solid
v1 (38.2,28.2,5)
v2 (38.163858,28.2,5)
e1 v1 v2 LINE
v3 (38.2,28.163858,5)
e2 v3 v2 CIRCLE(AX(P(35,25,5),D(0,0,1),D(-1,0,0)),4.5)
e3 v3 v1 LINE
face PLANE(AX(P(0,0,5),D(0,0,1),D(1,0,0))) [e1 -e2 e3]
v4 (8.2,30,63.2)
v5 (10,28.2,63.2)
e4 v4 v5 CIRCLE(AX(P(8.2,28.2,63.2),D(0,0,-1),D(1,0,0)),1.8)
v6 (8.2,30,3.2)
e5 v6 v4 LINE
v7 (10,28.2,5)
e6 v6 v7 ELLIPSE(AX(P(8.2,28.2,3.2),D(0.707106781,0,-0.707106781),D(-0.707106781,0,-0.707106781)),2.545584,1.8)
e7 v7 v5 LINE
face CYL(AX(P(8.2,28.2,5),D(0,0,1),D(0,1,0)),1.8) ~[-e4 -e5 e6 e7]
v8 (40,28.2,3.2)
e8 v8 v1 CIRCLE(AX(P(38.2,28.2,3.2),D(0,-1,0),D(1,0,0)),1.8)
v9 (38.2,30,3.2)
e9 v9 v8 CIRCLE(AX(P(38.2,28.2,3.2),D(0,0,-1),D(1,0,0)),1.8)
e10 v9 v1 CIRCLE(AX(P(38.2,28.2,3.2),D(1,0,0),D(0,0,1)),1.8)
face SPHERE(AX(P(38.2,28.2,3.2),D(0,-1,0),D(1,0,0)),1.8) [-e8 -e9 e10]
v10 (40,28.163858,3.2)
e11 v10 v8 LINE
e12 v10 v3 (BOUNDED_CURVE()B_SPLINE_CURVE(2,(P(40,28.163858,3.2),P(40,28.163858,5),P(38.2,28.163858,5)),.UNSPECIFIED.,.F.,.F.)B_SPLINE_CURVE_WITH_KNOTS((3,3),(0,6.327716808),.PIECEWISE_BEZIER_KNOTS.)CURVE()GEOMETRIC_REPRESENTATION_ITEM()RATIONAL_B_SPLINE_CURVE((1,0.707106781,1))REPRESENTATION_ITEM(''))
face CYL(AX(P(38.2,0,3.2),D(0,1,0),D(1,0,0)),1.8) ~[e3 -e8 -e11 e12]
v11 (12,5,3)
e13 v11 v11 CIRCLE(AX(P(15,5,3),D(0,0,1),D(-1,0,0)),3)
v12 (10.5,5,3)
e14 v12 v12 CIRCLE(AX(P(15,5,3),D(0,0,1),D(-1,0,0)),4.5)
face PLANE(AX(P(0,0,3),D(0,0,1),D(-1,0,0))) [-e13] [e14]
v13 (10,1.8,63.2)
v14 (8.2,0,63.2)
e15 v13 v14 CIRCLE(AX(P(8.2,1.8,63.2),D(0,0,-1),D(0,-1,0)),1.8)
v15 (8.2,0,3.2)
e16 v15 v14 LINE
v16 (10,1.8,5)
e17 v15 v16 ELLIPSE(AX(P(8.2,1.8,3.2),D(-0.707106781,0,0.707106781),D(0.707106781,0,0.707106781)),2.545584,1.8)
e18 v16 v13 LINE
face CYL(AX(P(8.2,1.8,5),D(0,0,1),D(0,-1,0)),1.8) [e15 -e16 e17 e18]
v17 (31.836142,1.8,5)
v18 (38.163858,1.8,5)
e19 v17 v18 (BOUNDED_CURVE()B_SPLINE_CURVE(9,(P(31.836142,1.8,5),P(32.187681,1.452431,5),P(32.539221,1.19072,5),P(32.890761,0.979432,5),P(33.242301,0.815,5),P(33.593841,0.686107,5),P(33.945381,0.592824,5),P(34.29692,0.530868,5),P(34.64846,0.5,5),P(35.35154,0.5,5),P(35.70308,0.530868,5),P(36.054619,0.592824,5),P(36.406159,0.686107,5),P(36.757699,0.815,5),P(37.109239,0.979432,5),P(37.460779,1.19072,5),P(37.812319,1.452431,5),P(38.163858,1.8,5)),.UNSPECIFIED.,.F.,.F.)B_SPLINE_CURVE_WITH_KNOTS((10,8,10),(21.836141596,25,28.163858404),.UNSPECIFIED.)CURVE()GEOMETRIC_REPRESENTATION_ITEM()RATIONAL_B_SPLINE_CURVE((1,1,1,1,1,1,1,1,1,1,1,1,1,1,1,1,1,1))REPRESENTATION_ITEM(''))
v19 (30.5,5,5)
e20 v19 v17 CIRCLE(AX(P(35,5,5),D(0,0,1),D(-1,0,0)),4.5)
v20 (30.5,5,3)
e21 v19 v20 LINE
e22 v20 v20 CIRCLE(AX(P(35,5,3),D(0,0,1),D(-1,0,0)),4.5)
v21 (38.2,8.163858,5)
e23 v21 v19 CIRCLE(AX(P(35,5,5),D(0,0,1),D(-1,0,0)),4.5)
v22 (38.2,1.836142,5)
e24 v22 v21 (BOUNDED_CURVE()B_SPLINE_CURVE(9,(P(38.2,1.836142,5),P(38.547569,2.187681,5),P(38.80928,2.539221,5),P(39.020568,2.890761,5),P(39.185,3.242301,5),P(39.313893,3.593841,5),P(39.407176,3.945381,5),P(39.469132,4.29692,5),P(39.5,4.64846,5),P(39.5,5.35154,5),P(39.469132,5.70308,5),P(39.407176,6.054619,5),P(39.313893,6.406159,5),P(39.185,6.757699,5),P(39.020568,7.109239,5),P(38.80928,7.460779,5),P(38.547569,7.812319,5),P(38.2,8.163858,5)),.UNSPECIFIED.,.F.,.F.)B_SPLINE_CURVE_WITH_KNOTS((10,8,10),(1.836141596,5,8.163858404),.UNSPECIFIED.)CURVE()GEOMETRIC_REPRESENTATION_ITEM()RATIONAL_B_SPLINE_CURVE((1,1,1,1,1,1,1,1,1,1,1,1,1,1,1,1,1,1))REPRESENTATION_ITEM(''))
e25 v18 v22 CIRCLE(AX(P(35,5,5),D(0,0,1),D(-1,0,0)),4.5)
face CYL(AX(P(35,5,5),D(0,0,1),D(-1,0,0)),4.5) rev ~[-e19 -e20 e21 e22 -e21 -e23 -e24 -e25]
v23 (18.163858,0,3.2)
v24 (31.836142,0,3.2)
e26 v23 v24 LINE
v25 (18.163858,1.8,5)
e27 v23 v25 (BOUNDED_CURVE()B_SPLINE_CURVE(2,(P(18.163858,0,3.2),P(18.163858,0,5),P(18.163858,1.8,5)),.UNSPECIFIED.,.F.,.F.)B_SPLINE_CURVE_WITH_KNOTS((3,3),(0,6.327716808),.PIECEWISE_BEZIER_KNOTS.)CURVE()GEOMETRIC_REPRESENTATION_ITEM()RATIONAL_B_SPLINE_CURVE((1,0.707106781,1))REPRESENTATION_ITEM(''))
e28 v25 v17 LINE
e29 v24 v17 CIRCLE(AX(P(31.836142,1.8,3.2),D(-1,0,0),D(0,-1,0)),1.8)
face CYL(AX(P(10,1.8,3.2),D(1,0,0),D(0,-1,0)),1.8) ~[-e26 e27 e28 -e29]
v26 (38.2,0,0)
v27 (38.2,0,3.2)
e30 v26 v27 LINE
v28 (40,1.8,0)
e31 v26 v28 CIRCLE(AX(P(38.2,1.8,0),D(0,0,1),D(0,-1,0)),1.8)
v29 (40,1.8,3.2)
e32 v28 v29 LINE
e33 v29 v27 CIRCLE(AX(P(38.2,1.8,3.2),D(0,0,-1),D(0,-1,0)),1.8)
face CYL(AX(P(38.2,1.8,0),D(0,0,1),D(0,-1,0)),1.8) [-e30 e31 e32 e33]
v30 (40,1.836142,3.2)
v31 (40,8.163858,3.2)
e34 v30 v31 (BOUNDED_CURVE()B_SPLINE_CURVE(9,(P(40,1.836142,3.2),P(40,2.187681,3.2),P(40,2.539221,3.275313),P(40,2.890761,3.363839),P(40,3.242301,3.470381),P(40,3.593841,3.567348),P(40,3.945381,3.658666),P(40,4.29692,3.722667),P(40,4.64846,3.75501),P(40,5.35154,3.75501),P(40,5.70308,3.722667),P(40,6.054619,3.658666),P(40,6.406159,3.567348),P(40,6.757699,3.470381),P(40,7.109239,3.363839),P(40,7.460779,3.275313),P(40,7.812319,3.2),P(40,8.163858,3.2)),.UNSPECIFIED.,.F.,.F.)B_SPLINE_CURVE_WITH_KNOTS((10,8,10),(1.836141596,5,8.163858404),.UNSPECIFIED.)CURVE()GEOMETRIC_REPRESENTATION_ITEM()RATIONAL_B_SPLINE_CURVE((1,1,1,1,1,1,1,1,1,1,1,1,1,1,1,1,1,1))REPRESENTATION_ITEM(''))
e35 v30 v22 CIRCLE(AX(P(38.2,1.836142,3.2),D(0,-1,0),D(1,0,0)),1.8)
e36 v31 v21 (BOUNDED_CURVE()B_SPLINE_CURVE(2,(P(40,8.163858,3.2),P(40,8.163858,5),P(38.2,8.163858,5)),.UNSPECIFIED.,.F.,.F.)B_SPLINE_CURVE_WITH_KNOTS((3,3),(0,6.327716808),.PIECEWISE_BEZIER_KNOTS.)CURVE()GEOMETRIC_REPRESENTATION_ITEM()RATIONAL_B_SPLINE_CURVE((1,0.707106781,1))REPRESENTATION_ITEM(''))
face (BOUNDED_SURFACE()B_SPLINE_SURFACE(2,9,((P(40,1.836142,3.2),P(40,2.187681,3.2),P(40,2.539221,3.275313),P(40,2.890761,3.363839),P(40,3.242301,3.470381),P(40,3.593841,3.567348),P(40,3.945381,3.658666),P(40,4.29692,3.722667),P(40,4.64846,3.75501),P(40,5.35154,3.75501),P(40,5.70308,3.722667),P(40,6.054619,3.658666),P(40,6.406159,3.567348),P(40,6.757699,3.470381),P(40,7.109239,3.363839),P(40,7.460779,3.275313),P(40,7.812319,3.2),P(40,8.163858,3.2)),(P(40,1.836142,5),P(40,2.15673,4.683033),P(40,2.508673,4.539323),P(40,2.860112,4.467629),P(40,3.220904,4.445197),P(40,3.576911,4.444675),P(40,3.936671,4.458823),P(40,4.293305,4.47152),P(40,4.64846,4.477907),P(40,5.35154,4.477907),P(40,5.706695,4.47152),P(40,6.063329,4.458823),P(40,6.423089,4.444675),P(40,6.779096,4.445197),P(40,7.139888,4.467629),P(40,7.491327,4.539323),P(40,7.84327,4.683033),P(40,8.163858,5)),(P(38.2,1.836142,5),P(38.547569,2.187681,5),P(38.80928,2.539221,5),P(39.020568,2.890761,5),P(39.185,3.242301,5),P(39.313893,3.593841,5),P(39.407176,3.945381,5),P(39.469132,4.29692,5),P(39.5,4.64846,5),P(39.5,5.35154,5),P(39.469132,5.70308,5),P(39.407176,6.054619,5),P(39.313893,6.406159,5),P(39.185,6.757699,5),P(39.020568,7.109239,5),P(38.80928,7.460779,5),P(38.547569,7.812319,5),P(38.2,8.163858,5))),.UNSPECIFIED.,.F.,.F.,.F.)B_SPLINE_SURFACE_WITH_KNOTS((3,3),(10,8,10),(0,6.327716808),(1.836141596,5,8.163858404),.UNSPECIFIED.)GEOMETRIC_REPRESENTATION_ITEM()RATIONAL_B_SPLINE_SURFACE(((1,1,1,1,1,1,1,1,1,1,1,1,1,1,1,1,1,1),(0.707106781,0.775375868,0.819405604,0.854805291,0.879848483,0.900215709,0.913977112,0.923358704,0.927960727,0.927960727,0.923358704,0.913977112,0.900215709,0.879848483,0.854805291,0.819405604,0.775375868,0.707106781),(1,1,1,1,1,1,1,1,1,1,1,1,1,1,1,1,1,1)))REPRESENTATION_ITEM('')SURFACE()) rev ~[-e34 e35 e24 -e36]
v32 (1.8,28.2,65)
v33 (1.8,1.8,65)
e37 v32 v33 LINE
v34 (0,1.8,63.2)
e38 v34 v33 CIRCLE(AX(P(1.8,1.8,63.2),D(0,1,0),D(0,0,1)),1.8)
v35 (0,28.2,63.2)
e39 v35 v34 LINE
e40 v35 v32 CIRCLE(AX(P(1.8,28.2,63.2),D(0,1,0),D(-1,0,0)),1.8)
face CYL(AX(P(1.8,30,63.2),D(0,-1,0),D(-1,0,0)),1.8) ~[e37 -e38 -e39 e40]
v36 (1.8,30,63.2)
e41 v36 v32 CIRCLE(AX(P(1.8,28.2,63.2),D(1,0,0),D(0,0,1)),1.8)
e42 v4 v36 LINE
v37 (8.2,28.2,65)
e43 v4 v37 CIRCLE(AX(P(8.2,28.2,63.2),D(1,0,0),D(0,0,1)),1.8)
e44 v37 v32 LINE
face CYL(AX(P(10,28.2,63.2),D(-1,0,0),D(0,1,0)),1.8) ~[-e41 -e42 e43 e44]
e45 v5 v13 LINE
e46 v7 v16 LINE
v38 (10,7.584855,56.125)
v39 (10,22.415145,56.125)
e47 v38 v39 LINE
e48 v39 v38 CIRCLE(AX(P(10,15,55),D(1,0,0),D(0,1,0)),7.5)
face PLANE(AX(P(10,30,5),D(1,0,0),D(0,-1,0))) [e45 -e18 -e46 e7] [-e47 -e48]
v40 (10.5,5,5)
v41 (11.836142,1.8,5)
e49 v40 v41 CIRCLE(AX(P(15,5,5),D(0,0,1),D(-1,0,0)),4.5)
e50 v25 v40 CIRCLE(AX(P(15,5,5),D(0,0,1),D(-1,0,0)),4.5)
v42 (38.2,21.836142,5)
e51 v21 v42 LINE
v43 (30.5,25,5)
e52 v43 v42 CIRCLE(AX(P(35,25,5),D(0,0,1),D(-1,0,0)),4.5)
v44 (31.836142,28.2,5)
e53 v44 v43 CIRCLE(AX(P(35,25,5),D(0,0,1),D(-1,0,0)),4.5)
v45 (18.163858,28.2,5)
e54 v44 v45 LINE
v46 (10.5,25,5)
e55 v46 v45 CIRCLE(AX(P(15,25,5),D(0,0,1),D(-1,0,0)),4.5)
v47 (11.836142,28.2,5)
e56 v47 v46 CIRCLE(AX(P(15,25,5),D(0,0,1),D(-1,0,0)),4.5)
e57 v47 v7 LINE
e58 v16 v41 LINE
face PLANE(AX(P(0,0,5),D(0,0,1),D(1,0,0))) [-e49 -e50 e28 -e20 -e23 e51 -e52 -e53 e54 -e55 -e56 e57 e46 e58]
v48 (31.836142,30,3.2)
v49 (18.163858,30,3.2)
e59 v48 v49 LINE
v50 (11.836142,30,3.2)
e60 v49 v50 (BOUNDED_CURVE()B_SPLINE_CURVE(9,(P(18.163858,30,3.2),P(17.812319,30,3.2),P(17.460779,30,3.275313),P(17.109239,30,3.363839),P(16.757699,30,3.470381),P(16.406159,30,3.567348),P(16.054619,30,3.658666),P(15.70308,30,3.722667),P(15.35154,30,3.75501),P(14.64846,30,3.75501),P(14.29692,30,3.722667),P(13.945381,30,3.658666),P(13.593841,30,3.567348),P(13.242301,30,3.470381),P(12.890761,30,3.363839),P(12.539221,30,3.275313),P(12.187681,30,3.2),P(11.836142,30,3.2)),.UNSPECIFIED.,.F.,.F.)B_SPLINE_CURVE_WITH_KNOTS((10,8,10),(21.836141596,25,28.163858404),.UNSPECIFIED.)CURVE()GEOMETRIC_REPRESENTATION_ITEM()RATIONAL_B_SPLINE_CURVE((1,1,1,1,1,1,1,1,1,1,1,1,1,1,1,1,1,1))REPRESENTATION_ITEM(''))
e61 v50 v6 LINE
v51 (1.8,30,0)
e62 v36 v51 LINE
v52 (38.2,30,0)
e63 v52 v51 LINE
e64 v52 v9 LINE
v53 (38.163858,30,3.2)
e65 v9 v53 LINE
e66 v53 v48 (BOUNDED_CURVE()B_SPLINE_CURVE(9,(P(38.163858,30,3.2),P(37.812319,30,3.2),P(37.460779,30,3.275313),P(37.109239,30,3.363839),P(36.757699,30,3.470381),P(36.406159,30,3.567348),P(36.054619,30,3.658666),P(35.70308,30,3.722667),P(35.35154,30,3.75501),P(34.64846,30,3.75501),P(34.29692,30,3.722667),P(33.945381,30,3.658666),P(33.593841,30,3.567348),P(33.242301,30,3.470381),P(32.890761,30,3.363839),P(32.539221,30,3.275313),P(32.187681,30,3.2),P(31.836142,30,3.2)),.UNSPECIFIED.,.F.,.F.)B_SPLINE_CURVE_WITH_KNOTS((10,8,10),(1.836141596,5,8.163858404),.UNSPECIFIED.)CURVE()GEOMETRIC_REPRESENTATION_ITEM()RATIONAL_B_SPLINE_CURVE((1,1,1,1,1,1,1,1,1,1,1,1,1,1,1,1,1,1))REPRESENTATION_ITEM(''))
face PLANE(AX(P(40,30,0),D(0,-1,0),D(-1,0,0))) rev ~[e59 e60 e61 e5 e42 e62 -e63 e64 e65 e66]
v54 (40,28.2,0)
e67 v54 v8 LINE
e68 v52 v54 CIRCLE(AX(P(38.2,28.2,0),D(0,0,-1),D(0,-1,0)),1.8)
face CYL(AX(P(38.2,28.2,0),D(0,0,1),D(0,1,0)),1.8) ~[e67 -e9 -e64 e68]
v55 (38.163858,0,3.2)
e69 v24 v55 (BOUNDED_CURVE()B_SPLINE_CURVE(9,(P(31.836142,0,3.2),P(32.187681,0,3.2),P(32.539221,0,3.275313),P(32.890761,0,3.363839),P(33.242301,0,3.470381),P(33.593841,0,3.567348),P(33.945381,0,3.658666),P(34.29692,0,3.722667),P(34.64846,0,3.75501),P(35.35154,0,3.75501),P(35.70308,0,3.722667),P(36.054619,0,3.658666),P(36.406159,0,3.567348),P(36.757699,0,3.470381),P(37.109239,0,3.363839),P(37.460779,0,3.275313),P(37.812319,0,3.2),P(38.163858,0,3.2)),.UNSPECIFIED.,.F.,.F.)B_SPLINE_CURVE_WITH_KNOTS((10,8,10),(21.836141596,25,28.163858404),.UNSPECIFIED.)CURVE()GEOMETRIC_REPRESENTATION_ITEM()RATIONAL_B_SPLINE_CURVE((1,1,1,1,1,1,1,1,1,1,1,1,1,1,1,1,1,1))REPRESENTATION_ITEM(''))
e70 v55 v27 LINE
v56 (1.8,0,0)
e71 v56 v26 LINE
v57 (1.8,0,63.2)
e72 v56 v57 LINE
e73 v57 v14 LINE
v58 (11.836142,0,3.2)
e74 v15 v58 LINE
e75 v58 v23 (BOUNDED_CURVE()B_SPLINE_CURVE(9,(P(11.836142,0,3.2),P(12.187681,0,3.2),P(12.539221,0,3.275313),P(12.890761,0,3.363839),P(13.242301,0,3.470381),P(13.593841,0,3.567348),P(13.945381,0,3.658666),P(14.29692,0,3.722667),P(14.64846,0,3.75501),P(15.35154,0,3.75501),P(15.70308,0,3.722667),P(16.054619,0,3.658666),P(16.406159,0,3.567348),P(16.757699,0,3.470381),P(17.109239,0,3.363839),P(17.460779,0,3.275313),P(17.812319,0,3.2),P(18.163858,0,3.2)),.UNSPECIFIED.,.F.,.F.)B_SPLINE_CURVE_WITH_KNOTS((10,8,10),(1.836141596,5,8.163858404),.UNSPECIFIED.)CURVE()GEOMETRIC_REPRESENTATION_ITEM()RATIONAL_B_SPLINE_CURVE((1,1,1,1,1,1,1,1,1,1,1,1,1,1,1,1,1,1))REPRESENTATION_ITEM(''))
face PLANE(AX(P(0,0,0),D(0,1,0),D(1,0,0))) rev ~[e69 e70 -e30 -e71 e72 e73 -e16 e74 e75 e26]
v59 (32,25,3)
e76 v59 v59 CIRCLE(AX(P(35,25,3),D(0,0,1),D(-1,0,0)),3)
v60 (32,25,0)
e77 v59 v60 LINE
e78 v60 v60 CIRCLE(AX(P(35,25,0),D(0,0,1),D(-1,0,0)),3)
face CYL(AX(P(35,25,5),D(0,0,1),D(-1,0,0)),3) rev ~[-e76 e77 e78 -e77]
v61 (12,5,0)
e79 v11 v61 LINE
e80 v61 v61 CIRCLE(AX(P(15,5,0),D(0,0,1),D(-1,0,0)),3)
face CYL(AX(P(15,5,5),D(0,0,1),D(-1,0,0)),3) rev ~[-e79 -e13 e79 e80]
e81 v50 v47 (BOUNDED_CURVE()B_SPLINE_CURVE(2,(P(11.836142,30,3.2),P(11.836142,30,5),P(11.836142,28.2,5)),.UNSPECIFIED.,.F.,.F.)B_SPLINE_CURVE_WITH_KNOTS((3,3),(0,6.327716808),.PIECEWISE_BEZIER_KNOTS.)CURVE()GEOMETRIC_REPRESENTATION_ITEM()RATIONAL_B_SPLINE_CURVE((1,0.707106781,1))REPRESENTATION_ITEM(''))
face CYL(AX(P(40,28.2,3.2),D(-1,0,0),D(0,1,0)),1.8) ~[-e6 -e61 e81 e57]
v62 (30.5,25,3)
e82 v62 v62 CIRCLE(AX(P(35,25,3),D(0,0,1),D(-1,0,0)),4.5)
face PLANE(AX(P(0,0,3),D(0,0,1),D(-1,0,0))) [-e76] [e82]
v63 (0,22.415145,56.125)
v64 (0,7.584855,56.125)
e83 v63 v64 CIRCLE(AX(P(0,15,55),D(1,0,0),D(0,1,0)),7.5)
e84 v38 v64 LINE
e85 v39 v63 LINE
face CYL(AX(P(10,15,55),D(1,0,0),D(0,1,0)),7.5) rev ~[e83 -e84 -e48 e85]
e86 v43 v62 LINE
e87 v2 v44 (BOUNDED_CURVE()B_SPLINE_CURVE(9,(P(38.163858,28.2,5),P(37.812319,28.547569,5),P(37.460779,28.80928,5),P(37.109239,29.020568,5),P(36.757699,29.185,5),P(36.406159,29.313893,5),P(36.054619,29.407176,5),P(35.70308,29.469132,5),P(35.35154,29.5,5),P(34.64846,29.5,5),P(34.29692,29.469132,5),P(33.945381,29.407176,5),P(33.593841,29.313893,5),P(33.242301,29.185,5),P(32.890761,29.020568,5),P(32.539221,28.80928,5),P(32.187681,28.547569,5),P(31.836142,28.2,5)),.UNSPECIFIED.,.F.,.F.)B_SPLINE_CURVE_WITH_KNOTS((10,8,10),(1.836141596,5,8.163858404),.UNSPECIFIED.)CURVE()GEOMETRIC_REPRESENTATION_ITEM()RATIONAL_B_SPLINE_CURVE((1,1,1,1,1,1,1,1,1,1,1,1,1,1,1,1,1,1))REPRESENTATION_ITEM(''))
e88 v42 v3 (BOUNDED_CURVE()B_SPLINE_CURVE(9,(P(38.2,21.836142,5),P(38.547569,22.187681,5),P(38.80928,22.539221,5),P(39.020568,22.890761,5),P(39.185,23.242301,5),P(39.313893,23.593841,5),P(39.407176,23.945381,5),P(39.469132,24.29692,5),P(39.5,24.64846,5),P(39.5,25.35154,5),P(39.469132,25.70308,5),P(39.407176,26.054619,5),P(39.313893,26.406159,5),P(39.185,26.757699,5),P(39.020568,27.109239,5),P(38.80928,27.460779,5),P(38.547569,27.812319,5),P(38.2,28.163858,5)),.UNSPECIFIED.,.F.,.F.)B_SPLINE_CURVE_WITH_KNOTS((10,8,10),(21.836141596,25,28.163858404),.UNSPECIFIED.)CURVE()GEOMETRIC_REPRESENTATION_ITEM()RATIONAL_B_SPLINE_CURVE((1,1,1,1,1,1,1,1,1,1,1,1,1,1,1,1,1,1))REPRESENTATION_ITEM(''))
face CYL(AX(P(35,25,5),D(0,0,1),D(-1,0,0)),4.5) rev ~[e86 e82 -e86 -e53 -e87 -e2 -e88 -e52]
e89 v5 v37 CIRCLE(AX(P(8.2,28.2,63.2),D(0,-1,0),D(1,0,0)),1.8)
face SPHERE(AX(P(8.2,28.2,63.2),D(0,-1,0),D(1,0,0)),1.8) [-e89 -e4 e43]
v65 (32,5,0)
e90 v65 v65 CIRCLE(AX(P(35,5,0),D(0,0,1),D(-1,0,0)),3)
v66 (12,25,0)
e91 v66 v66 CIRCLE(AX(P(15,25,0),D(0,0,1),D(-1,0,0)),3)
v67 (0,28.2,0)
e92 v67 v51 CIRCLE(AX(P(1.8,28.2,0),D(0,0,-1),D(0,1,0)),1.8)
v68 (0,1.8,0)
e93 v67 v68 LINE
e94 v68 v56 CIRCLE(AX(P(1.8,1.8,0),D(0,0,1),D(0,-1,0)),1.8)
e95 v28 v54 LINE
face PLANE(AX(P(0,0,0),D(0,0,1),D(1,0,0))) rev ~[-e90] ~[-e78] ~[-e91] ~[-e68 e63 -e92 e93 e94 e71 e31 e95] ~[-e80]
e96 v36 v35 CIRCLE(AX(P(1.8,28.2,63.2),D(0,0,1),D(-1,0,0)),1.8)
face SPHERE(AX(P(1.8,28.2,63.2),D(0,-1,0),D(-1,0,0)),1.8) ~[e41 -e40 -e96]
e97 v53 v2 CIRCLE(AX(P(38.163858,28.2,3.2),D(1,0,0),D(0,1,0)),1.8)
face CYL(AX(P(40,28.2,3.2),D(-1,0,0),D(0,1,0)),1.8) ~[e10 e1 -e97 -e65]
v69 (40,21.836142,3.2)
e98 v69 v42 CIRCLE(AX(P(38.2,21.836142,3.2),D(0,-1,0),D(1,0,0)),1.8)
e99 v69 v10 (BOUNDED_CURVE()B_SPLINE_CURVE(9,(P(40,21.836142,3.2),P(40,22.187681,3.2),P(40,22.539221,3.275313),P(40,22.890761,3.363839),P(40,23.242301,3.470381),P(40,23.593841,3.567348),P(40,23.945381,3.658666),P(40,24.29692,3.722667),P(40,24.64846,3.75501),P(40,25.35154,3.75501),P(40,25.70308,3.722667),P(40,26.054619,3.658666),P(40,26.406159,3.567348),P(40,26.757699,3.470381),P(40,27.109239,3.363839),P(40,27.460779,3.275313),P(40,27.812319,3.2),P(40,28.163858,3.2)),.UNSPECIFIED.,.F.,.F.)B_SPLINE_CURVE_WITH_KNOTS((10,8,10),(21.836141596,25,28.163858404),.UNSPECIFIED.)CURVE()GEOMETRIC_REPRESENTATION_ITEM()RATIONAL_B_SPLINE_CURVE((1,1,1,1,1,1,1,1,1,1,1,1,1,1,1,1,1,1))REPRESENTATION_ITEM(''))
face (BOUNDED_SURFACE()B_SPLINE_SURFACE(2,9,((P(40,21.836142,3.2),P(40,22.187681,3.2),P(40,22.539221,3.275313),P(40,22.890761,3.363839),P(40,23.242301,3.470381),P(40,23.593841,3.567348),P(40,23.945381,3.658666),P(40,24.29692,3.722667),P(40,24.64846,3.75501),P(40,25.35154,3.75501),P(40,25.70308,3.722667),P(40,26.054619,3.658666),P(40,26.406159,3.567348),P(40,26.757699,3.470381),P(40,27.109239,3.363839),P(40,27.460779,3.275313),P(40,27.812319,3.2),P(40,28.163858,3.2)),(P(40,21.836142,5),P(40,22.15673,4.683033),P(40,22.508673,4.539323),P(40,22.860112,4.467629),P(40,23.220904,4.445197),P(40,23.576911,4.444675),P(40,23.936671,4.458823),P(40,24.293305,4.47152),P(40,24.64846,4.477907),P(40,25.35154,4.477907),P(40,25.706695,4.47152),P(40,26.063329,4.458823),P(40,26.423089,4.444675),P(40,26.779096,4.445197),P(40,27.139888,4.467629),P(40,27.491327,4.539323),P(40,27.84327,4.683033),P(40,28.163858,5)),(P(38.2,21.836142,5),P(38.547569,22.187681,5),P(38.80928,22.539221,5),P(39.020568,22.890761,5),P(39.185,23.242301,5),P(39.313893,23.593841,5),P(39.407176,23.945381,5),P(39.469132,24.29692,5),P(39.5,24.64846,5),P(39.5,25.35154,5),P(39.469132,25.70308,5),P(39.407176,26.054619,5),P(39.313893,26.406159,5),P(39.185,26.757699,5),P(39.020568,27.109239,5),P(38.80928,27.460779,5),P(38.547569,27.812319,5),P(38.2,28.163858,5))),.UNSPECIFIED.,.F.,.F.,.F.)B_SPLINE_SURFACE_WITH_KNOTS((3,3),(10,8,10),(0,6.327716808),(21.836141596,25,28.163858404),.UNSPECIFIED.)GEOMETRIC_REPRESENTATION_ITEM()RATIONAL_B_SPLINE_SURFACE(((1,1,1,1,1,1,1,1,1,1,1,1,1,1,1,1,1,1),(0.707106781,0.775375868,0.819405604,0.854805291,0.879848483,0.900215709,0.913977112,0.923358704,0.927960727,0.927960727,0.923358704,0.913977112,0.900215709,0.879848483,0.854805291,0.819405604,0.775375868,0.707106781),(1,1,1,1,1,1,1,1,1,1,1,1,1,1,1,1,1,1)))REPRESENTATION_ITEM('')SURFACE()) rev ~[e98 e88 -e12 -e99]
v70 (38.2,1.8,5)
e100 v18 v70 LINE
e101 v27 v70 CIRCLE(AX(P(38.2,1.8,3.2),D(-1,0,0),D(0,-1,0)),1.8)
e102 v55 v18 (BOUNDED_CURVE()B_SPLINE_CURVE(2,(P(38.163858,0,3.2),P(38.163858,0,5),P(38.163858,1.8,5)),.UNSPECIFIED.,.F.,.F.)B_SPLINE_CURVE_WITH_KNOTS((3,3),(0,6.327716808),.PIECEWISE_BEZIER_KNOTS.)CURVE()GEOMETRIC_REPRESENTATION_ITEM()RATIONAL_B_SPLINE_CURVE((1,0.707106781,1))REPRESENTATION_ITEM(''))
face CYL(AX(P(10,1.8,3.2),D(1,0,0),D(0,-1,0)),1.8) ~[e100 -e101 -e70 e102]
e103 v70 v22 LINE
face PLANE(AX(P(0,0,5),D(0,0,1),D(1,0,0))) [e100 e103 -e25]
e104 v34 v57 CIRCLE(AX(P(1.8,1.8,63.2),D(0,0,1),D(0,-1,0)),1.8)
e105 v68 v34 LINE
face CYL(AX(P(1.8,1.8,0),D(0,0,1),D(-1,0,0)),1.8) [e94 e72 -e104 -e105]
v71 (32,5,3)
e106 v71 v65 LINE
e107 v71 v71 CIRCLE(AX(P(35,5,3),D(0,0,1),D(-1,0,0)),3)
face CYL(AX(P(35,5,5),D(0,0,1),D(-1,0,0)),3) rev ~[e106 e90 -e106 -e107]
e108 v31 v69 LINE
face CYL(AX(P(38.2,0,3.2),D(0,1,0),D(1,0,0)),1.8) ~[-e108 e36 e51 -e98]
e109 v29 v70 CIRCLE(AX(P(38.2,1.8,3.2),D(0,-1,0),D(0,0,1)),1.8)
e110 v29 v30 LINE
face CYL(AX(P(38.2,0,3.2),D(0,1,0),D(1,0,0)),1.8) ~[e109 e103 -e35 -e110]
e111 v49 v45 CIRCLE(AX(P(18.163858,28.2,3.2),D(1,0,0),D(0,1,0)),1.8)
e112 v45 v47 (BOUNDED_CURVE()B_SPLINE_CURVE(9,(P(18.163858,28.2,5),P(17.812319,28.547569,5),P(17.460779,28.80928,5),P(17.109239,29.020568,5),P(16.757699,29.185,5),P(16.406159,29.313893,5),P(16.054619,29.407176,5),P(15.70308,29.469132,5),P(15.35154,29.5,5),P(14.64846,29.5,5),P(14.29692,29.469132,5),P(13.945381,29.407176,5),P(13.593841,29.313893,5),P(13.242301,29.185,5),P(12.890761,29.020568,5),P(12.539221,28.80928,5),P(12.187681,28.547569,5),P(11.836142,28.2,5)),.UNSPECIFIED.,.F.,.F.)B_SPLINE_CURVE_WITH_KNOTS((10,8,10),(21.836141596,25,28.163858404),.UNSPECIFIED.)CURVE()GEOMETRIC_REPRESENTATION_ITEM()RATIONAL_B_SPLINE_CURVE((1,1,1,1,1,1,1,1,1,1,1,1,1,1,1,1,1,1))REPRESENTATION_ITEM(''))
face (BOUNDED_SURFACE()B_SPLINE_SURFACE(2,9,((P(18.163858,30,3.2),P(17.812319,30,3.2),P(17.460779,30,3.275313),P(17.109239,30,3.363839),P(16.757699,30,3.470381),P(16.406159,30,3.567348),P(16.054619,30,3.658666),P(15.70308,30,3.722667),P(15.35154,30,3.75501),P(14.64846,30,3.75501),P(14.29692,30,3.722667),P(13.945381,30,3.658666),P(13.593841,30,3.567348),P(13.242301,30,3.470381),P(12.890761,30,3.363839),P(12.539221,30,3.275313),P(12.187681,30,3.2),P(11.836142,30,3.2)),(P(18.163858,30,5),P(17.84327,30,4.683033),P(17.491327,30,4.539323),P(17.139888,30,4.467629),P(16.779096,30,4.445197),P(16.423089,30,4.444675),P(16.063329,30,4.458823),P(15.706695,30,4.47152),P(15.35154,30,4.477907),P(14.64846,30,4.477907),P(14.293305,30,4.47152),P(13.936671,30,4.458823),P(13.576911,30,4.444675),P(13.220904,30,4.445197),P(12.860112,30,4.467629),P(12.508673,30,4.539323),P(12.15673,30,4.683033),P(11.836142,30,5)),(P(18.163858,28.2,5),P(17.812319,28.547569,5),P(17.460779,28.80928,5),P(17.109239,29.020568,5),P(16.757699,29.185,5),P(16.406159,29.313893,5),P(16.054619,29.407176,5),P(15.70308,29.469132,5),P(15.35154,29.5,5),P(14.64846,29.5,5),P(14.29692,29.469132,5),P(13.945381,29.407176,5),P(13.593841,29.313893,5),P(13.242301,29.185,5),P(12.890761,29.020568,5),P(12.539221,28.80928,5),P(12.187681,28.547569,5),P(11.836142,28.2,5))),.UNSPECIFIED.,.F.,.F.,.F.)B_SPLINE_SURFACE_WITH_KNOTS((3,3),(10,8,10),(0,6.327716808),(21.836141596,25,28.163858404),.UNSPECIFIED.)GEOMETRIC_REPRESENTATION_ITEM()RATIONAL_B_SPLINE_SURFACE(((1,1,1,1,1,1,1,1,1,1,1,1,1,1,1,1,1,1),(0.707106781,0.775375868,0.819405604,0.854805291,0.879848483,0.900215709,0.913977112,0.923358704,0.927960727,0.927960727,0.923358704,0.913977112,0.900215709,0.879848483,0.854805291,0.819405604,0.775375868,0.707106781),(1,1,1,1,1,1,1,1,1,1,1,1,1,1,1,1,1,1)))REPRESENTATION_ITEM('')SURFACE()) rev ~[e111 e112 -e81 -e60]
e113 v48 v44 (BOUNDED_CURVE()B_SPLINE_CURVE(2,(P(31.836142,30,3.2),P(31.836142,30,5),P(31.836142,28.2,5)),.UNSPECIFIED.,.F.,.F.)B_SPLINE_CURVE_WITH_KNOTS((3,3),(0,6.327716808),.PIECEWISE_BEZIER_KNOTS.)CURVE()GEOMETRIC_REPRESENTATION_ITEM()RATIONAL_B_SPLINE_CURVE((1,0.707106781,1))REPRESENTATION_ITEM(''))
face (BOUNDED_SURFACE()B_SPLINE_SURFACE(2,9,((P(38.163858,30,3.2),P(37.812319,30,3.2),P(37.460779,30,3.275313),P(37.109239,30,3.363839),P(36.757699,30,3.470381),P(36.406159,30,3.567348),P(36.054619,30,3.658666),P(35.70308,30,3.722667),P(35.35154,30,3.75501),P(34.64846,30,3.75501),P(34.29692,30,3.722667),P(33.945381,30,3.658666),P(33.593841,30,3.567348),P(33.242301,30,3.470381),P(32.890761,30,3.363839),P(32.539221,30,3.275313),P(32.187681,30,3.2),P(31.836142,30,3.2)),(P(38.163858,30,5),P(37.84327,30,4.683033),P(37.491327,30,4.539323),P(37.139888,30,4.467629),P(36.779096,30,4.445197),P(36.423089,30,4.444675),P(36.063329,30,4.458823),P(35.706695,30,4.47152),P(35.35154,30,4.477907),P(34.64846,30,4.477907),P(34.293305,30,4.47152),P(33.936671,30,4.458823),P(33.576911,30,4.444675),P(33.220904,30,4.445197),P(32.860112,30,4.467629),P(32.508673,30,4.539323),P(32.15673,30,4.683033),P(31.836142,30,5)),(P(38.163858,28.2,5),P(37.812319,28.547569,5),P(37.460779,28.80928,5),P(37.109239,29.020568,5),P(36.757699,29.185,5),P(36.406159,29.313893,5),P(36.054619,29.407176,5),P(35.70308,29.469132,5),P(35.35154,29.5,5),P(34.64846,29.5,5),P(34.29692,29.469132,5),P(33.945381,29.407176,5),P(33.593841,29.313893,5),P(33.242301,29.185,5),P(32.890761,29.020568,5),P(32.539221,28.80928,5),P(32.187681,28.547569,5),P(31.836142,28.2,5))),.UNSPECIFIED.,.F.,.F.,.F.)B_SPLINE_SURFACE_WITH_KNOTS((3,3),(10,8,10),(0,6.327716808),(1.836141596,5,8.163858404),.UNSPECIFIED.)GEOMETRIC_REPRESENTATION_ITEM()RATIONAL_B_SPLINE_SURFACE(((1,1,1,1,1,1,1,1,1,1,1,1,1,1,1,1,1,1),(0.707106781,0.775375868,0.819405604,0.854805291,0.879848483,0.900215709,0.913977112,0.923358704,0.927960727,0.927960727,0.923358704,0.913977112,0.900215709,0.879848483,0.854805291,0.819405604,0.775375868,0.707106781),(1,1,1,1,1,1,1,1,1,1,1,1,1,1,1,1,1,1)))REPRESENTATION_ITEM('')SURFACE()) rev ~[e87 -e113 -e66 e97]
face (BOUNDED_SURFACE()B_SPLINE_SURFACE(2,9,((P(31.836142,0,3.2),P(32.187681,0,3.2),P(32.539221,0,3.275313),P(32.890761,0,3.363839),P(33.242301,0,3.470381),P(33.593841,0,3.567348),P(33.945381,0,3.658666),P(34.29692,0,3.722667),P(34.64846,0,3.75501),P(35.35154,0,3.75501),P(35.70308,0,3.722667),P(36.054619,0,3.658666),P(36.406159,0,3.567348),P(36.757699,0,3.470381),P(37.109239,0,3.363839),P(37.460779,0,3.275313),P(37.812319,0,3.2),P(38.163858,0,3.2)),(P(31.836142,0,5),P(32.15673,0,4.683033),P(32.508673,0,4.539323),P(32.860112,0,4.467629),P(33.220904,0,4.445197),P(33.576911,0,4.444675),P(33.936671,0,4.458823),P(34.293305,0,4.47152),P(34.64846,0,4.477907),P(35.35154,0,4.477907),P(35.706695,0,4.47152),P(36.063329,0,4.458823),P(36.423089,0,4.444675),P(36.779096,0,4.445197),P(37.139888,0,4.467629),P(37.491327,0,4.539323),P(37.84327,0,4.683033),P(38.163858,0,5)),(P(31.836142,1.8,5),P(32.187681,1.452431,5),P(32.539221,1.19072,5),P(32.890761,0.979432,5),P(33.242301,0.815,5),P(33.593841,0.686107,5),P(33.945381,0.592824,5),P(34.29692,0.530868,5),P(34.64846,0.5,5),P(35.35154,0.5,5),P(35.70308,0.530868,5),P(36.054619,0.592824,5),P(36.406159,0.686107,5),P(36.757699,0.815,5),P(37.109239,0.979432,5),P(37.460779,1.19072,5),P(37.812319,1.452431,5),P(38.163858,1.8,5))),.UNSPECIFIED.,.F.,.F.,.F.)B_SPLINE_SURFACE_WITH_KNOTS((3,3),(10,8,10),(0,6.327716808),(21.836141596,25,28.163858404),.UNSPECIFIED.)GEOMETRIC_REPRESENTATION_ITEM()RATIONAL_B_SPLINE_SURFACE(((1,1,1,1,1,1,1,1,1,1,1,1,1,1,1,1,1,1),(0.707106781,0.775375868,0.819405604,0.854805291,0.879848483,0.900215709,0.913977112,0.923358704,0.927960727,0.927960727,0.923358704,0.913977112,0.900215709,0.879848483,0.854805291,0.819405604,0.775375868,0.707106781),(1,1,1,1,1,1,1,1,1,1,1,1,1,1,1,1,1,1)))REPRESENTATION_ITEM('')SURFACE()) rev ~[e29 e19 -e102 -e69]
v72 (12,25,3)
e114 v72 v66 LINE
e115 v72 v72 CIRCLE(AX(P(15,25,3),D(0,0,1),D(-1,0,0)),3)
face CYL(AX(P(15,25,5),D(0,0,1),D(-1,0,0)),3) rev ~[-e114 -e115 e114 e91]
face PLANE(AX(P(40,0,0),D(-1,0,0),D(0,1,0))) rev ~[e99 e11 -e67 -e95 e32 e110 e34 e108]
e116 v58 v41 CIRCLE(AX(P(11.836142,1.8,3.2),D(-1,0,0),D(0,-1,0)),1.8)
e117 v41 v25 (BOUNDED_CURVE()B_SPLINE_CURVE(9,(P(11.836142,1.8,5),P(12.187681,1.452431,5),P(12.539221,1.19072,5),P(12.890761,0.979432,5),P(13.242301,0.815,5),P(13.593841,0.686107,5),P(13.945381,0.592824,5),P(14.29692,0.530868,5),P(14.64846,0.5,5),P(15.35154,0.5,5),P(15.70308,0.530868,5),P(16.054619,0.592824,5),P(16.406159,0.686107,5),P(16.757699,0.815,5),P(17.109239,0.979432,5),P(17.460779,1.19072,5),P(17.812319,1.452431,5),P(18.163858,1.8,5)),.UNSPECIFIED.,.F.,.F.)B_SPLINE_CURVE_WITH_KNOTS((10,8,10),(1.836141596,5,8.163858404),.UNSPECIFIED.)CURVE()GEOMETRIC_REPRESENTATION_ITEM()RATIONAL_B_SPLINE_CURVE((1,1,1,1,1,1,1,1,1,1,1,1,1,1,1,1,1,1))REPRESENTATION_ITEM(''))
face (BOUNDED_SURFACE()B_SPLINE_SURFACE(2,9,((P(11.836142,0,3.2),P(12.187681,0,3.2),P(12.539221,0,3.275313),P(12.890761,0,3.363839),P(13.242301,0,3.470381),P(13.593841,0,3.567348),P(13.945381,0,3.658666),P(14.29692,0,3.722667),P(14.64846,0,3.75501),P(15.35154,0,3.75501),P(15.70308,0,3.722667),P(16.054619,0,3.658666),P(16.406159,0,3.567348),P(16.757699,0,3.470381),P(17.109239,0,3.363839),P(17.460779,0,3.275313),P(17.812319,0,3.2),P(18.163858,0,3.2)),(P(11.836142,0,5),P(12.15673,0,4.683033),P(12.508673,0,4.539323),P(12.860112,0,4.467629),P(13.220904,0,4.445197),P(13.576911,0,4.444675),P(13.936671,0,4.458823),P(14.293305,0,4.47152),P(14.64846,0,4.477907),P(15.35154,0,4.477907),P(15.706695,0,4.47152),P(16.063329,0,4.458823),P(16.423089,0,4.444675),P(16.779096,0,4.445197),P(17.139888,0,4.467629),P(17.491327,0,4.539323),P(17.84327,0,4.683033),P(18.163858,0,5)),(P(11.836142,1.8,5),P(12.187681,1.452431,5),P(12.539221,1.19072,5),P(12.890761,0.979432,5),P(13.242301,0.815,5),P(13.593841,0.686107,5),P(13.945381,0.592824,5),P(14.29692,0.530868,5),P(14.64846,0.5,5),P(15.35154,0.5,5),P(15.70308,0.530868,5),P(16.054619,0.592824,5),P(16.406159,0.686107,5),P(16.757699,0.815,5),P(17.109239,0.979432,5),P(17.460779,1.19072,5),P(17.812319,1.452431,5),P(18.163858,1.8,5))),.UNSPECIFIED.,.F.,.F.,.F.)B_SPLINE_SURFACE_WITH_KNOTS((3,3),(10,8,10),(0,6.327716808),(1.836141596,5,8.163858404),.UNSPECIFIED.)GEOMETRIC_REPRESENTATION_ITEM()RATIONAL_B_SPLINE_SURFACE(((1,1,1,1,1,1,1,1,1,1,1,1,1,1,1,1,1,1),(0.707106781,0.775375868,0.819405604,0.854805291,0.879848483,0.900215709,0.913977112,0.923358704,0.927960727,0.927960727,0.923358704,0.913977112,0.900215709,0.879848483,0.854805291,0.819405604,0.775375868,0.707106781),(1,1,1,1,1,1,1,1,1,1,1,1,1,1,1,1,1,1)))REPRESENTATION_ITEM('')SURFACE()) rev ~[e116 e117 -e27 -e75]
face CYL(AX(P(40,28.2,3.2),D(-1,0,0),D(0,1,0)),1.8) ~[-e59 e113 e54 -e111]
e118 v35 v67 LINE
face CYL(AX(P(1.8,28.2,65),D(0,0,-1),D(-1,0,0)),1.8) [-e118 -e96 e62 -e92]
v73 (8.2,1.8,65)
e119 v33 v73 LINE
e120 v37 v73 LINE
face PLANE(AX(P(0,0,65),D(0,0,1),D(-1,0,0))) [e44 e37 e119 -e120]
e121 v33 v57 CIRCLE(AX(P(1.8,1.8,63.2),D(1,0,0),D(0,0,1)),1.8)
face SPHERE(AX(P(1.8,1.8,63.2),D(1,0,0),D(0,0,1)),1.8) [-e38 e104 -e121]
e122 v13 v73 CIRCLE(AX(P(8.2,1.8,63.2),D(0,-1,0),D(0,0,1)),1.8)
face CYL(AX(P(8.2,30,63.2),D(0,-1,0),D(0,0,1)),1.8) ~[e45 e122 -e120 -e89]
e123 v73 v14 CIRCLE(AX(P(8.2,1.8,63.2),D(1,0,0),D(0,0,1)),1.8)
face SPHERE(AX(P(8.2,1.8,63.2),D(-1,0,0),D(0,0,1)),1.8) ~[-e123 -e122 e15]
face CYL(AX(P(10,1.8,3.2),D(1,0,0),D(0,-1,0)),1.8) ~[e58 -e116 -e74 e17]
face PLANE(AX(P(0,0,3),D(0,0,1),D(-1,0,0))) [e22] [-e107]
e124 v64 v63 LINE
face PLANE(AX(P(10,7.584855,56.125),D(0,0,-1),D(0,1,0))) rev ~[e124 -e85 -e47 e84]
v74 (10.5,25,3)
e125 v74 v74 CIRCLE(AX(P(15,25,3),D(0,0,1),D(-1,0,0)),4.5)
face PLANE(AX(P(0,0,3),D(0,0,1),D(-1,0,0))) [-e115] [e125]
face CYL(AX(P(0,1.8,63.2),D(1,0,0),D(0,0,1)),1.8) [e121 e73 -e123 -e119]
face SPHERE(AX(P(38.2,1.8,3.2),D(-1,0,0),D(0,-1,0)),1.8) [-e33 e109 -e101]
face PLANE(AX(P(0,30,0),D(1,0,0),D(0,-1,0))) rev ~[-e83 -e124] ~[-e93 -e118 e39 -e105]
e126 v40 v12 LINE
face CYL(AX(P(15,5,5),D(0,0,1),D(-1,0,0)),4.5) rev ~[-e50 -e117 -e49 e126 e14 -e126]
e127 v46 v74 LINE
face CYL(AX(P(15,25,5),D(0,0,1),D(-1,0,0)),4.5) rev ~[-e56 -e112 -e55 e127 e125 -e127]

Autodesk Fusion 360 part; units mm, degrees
sketch "Sketch1" plane through (0, 0, 0) normal (0, 0, 1) x (1, 0, 0)
  line L0 (0, 0) -> (40, 0)
  line L1 (40, 0) -> (40, 30)
  line L2 (40, 30) -> (0, 30)
  line L3 (0, 30) -> (0, 0)
  dimension "d1" = 40
  dimension "d2" = 30
extrude "Extrude1" add sketch "Sketch1" along normal blind 5
sketch "Sketch2" plane through (0, 0, 5) normal (0, 0, 1) x (-1, 0, 0)
  line L0 (0, -30) -> (0, 0)
  line L1 (0, 0) -> (-40, 0)
  line L2 (-40, 0) -> (-40, -30)
  line L3 (-40, -30) -> (0, -30)
  line L4 (0, -30) -> (-10, -30)
  line L5 (-10, -30) -> (-10, 0)
  line L6 (-10, 0) -> (0, 0)
  line L7 (0, 0) -> (0, -30)
  dimension "d5" = 10
  dimension "d6" = 30
extrude "Extrude2" add sketch "Sketch2" along normal blind 60 contours L0 L1 L3 L4 L5 L6 L7
sketch "Sketch3" plane through (10, 0, 0) normal (1, 0, 0) x (0, 1, 0)
  line L0 (0, 5) -> (30, 5)
  line L1 (30, 5) -> (30, 65)
  line L2 (30, 65) -> (0, 65)
  line L3 (0, 65) -> (0, 5)
  circle A0 centre (15, 55) radius 7.5
  circle A1 centre (15, 57) radius 7.5
  line L4 (22.5, 55.875) -> (7.5, 55.875)
  line L5 (7.5, 55.875) -> (7.5, 56.125)
  line L6 (7.5, 56.125) -> (22.5, 56.125)
  line L7 (22.5, 56.125) -> (22.5, 55.875)
  line L8 (22.5, 55.875) -> (7.5, 56.125) construction
  line L9 (7.5, 55.875) -> (22.5, 56.125) construction
  point P0 (15, 56)
  dimension "d9" = 15
  dimension "d10" = 15
  dimension "d11" = 15
  dimension "d12" = 0.25
extrude "Extrude3" cut sketch "Sketch3" against normal blind 10 contours A0 L6
sketch "Sketch4" plane through (0, 0, 5) normal (0, 0, 1) x (-1, 0, 0)
  line L0 (-10, -30) -> (-10, 0)
  line L1 (-10, 0) -> (-40, 0)
  line L2 (-40, 0) -> (-40, -30)
  line L3 (-40, -30) -> (-10, -30)
  circle A0 centre (-15, -25) radius 3
  circle A1 centre (-35, -25) radius 3
  circle A2 centre (-15, -5) radius 3
  circle A3 centre (-35, -5) radius 3
  dimension "d17" = 6
  dimension "d18" = 6
  dimension "d19" = 6
  dimension "d20" = 6
extrude "Extrude4" cut sketch "Sketch4" against normal blind 5 contours A0 | A1 | A2 | A3
sketch "Sketch5" plane through (0, 0, 5) normal (0, 0, 1) x (-1, 0, 0)
  circle A0 centre (-15, -25) radius 3
  circle A1 centre (-35, -25) radius 3
  circle A2 centre (-15, -5) radius 3
  circle A3 centre (-35, -5) radius 3
  line L0 (-10, -30) -> (-10, 0)
  line L1 (-10, 0) -> (-40, 0)
  line L2 (-40, 0) -> (-40, -30)
  line L3 (-40, -30) -> (-10, -30)
  circle A4 centre (-15, -5) radius 4.5
  circle A5 centre (-15, -25) radius 4.5
  circle A6 centre (-35, -25) radius 4.5
  circle A7 centre (-35, -5) radius 4.5
  dimension "d23" = 9
  dimension "d24" = 9
  dimension "d25" = 9
  dimension "d26" = 9
extrude "Extrude5" cut sketch "Sketch5" against normal blind 2 contours A4 | A5 | A6 | A7
fillet "Fillet1" radius 1.8 13 edges at (5, 0, 65) (0, 15, 65) (10, 15, 65) (10, 0, 35) (0, 0, 32.5) (25, 0, 5) (40, 0, 2.5) (40, 15, 5) (40, 30, 2.5) (25, 30, 5) (10, 30, 35) (0, 30, 32.5) (5, 30, 65)
